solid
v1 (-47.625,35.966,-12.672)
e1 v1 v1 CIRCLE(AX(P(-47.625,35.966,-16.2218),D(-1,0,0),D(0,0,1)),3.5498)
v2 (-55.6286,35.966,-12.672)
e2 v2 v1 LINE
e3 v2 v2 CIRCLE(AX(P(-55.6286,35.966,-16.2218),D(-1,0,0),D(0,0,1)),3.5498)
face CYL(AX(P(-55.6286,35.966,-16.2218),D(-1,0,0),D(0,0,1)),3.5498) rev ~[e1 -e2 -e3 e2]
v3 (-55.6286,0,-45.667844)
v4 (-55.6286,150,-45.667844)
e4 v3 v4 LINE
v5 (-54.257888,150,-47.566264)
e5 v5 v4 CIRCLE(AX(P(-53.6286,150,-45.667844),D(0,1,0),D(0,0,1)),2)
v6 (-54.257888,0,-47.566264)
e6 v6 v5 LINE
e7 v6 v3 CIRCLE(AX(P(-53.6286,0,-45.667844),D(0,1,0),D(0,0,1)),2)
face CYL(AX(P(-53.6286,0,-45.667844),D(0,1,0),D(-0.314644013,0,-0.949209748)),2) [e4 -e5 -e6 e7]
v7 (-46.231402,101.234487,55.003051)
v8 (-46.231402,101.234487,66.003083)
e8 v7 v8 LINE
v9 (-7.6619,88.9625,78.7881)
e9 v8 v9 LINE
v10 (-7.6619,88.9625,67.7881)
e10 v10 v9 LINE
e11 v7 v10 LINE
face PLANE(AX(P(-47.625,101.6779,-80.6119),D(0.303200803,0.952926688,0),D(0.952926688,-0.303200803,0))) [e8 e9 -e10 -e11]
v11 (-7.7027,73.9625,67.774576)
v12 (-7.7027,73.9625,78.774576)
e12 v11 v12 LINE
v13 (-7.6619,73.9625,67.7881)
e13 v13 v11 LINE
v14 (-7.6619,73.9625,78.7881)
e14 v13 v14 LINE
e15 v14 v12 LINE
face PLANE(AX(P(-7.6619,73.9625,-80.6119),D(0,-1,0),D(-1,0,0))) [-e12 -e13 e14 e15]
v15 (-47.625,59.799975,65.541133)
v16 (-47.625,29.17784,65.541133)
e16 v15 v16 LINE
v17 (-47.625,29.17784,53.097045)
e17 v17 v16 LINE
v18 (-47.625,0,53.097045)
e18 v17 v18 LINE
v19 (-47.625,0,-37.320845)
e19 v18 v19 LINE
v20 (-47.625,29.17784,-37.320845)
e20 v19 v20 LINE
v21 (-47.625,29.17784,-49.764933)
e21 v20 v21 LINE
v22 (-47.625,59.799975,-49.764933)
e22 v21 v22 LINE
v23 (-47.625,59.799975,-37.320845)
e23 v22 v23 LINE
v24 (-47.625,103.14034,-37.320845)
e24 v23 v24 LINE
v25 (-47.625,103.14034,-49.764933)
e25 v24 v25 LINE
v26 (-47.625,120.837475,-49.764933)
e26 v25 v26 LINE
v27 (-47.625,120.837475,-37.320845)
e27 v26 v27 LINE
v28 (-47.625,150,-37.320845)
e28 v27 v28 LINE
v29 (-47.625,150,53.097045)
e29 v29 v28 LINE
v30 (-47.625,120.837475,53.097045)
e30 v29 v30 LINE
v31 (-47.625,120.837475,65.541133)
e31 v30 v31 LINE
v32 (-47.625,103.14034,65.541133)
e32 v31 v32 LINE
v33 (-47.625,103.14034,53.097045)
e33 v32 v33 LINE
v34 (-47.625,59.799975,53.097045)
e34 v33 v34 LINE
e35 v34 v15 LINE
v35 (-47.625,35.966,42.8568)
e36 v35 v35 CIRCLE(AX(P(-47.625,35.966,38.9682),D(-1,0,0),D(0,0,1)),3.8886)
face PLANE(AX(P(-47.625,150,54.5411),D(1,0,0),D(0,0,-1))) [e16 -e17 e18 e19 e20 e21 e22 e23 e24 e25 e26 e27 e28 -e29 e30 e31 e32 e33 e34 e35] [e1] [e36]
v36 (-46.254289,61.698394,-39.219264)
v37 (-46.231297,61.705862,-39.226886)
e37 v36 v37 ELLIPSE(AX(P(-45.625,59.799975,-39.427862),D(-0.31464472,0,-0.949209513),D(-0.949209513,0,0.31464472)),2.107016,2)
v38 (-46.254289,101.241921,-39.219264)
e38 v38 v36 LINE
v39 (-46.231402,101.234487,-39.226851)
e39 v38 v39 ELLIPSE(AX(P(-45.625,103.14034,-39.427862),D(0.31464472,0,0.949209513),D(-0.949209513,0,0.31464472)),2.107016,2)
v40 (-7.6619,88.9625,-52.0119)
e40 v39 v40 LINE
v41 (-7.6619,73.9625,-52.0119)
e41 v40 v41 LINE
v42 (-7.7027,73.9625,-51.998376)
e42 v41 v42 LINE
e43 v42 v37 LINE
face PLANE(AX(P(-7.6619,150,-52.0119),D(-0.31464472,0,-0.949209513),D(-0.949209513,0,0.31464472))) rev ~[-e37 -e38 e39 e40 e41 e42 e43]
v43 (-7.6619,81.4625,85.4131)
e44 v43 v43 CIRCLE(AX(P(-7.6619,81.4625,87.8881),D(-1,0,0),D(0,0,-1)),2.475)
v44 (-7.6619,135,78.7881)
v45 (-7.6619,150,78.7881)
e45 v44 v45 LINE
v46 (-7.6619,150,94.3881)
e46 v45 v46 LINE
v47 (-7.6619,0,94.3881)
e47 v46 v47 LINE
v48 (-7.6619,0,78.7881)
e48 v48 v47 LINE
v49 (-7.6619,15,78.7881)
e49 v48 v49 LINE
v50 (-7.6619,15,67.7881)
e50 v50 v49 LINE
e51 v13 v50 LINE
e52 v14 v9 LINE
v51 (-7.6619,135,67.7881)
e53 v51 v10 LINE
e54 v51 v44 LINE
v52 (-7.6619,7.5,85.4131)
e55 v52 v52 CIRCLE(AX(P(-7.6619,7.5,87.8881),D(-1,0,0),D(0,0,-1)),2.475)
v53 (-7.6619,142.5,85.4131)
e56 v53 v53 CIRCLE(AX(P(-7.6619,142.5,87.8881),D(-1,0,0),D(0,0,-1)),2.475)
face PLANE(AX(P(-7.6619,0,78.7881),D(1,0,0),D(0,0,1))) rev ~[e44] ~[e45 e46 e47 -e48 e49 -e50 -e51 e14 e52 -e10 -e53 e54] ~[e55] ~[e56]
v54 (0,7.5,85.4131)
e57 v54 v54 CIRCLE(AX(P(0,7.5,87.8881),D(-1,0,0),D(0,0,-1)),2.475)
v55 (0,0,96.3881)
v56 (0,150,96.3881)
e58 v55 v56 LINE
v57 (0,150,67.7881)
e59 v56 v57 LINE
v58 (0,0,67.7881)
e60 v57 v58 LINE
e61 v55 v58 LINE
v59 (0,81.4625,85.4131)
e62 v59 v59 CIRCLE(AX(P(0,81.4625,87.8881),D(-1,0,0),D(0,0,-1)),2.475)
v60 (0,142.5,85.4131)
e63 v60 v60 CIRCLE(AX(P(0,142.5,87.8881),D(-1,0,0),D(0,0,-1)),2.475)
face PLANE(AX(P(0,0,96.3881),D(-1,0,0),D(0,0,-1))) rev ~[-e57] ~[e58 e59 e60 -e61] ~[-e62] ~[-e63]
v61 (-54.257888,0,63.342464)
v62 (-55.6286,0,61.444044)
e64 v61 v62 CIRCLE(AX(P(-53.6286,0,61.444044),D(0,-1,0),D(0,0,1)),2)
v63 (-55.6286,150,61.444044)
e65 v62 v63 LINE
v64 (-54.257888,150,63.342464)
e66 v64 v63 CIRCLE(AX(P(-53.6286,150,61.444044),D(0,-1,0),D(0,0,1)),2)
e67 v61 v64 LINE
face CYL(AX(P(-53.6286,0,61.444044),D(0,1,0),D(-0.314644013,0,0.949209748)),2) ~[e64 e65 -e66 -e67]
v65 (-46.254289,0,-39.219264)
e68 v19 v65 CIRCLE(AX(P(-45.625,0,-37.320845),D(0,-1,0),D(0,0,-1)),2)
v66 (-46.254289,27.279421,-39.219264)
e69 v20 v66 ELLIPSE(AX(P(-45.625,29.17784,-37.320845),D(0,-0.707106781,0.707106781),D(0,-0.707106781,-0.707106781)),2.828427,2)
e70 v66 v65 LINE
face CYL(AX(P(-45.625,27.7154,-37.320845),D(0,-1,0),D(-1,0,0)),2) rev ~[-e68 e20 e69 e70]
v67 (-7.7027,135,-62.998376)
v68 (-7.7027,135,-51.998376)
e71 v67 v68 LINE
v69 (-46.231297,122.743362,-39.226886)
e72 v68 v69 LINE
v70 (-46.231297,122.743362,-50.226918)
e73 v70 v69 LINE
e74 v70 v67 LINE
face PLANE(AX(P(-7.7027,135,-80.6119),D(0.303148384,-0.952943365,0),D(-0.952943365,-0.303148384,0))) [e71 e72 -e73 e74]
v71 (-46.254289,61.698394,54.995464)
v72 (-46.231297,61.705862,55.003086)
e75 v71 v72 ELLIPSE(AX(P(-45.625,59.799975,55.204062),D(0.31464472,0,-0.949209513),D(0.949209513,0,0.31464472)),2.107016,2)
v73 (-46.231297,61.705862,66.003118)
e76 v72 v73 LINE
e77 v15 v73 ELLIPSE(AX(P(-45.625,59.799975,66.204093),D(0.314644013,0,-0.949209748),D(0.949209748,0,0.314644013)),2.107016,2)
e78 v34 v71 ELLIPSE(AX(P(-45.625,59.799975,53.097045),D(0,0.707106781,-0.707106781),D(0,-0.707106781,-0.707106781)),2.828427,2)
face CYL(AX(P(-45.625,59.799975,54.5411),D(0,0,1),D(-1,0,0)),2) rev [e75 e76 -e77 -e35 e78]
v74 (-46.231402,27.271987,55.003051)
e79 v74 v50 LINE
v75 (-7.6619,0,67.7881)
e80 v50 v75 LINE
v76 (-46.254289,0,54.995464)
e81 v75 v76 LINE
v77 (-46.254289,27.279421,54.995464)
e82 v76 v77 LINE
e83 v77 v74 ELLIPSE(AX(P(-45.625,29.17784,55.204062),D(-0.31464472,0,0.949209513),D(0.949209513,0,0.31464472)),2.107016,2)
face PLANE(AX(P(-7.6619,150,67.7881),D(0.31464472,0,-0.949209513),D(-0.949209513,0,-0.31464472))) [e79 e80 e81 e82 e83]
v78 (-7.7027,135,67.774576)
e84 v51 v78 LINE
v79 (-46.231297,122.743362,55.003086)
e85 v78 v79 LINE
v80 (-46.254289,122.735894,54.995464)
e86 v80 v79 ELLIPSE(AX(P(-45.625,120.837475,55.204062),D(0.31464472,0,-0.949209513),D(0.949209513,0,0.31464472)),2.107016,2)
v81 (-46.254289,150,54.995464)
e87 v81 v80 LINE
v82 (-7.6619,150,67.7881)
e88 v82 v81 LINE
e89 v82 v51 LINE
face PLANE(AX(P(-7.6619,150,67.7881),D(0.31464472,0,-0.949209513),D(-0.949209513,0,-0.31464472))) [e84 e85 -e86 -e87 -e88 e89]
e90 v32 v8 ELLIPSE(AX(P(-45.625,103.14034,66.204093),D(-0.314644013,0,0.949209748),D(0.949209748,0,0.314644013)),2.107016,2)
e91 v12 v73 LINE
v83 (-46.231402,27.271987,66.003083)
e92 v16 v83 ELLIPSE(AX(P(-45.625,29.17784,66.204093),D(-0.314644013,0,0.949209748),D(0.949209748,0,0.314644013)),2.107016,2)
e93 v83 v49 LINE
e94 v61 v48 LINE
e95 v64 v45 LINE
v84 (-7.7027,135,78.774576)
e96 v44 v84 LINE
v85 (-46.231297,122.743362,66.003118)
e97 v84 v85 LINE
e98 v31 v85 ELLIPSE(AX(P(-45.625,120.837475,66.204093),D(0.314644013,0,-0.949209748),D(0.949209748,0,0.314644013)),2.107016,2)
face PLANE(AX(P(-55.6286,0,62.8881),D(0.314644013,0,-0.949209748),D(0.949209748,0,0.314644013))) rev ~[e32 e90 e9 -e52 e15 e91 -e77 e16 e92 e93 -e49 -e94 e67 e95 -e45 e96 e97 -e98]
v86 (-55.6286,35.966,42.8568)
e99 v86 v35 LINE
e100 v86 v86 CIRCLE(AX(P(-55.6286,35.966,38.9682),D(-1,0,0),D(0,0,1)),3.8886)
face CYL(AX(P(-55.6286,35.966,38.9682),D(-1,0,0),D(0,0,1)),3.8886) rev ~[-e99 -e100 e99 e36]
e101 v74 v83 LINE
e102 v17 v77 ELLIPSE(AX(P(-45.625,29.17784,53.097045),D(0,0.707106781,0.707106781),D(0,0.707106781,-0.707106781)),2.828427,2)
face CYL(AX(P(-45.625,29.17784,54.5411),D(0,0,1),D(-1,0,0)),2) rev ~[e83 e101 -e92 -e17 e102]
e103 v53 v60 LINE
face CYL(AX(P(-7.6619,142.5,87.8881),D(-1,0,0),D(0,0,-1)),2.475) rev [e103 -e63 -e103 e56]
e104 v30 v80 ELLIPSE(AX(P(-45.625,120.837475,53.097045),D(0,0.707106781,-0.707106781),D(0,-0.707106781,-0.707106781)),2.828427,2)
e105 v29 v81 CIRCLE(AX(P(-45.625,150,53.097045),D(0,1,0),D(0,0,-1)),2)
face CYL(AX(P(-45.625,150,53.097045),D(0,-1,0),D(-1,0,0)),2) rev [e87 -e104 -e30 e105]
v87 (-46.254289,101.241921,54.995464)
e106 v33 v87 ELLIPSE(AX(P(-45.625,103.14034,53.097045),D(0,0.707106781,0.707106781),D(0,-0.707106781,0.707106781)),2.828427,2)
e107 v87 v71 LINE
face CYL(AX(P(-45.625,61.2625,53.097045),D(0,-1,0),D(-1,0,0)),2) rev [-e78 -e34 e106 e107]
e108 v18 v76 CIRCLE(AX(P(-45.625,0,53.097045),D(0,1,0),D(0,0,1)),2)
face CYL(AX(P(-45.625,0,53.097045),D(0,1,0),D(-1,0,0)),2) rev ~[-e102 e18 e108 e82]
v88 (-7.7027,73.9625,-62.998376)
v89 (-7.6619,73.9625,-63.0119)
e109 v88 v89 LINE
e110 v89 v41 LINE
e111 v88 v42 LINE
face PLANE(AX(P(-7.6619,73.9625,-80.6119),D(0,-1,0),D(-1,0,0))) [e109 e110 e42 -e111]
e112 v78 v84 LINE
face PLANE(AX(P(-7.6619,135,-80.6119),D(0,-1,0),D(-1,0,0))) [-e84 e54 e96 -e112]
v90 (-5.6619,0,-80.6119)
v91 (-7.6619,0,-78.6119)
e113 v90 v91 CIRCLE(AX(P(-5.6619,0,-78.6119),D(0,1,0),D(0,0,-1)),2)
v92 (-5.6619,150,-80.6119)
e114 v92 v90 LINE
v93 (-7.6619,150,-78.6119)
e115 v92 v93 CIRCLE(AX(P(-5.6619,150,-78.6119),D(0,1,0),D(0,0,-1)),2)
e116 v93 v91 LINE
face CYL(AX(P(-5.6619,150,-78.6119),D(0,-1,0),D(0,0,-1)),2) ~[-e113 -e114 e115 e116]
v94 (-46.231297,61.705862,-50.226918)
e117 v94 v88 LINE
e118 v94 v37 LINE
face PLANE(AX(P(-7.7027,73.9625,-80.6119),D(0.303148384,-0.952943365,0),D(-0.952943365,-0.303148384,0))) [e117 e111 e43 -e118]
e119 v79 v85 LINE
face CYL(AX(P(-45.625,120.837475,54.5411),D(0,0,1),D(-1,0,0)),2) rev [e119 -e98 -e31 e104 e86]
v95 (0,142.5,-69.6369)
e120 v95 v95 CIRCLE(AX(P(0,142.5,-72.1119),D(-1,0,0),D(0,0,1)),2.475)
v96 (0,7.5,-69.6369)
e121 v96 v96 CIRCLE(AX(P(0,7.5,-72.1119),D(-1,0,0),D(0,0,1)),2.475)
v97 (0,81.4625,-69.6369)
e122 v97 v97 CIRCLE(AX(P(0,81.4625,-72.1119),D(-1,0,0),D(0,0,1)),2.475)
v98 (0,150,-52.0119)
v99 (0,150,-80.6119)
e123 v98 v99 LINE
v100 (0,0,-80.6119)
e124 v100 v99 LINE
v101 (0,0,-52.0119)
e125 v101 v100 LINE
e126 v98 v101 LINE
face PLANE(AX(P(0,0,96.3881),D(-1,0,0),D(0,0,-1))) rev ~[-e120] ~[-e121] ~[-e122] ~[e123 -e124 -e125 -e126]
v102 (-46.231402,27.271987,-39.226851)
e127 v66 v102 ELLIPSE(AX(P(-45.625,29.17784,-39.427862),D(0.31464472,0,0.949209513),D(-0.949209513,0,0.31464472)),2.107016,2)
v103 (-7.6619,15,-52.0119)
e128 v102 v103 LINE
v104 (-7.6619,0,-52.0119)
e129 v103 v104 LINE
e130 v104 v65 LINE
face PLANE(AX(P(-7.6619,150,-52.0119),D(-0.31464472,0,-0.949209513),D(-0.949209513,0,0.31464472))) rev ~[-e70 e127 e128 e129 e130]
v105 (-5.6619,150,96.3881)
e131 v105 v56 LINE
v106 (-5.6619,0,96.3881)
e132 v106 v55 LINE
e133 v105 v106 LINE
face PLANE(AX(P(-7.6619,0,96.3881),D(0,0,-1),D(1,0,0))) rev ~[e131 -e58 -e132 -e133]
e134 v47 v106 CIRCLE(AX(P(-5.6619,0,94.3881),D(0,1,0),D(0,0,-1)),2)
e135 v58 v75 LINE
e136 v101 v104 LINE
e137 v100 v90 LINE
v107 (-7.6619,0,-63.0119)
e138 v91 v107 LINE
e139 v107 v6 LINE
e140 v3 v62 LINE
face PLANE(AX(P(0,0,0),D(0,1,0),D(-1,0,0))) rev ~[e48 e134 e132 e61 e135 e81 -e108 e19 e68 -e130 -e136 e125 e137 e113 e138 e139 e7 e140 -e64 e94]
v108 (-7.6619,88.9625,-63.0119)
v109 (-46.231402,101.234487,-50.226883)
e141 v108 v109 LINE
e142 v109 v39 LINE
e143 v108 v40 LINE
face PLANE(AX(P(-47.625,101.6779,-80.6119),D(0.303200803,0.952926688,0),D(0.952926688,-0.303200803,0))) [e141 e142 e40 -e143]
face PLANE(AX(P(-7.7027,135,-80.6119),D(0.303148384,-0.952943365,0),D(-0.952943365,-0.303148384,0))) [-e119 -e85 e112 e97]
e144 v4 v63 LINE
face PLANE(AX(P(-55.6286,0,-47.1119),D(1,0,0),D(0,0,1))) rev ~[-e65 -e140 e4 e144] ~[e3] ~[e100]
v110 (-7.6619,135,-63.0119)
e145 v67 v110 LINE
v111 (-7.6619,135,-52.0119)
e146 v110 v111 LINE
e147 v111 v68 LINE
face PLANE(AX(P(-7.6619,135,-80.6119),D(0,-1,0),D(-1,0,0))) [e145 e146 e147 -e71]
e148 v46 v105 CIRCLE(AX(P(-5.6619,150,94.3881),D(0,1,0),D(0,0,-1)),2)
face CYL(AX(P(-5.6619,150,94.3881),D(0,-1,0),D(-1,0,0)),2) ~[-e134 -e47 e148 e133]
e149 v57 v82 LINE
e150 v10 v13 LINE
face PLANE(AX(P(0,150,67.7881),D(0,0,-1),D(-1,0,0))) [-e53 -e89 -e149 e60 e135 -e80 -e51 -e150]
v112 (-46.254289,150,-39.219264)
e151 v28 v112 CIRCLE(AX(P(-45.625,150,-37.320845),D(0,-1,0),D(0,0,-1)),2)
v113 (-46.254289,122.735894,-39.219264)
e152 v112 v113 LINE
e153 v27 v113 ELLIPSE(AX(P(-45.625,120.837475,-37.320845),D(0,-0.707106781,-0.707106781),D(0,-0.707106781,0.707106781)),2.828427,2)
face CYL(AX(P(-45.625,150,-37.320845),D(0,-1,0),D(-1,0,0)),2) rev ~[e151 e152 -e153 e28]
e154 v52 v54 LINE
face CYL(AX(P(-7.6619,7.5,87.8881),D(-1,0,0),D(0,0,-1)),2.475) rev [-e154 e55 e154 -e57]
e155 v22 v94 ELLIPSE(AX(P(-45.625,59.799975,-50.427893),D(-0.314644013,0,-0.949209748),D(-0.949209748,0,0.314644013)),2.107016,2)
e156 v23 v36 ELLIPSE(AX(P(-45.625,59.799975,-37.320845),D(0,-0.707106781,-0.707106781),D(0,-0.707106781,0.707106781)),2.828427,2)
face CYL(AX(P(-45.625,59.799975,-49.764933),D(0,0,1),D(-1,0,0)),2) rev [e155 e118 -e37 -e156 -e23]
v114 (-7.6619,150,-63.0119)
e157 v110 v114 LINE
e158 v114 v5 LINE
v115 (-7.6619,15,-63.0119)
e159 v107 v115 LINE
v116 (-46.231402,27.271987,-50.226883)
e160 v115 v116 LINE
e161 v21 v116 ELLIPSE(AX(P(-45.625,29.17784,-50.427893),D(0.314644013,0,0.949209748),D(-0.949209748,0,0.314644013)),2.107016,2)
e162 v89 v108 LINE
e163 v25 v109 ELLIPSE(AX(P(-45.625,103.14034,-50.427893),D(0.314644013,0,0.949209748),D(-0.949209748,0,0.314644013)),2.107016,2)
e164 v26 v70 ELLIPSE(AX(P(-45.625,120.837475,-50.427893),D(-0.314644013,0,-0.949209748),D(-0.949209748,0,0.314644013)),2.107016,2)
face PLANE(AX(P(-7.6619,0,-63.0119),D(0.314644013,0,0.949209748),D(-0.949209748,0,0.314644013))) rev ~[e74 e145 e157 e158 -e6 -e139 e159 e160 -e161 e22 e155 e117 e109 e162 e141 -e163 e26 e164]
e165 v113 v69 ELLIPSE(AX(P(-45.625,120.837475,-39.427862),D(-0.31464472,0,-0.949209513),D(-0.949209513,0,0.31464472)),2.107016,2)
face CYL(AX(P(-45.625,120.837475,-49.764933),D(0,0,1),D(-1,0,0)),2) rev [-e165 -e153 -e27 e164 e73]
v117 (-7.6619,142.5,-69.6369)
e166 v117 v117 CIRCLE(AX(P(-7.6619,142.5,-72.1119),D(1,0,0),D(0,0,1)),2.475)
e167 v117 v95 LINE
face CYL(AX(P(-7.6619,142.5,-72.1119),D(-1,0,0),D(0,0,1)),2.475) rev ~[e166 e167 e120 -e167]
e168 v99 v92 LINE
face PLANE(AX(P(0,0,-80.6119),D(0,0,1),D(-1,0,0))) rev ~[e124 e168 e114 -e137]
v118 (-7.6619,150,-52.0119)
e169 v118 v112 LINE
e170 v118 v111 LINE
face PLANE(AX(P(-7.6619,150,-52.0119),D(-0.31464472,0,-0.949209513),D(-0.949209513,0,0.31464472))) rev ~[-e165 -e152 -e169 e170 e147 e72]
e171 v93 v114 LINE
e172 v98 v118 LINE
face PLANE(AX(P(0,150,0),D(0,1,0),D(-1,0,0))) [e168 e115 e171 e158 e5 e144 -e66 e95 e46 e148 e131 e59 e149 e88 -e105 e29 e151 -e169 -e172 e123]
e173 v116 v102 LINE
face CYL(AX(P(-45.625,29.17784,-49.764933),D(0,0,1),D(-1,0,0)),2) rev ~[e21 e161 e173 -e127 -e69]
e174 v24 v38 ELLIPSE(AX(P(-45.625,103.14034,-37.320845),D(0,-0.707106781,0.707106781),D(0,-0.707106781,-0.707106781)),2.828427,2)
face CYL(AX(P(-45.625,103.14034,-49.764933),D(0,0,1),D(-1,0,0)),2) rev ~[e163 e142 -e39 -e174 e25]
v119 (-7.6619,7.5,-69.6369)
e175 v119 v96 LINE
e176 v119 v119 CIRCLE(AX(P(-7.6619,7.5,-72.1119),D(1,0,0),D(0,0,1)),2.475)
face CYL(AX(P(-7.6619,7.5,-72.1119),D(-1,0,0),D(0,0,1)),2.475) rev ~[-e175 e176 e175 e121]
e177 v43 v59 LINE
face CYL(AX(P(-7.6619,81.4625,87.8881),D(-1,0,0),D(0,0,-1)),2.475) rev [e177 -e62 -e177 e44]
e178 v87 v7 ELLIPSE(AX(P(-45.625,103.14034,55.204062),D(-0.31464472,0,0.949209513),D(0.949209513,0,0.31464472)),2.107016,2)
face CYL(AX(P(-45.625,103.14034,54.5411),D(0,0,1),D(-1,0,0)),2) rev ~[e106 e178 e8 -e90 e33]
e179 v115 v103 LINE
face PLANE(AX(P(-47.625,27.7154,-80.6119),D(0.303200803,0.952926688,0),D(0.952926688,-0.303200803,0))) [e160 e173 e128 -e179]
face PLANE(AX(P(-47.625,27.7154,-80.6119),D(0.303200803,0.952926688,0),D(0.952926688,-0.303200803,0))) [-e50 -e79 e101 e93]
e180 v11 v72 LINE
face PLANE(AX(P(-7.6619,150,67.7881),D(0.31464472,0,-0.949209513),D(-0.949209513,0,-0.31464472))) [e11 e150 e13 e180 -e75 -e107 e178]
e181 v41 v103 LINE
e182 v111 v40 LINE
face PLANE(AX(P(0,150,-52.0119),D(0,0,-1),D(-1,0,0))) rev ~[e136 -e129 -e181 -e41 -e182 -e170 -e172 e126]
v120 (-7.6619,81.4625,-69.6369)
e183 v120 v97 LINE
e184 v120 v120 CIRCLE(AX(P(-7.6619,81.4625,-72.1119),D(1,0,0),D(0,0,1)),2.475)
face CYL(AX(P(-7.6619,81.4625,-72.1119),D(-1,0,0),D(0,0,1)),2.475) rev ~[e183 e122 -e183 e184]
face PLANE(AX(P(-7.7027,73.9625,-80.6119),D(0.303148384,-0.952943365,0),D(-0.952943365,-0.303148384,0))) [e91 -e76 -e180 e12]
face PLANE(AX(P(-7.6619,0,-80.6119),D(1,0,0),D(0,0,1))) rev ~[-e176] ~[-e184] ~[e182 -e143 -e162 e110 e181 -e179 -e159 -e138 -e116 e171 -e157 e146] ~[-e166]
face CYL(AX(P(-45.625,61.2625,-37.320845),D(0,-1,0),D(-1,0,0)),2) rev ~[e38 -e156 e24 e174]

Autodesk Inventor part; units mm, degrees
ref_plane "YZ Plane" through (0, 0, 0) normal (1, 0, 0) x (0, 1, 0)
ref_plane "XZ Plane" through (0, 0, 0) normal (0, 1, 0) x (-1, 0, 0)
ref_plane "XY Plane" through (0, 0, 0) normal (0, 0, 1) x (1, 0, 0)
sketch "Sketch1" plane through (0, 0, 0) normal (0, 1, 0) x (-1, 0, 0)
  line L0 (0, 96.3881) -> (0, -80.6119)
  line L1 (0, -80.6119) -> (7.6619, -80.6119)
  line L2 (7.6619, -80.6119) -> (7.6619, -63.0119)
  line L3 (7.6619, -63.0119) -> (55.6286, -47.1119)
  line L4 (55.6286, -47.1119) -> (55.6286, 62.8881)
  line L5 (55.6286, 62.8881) -> (7.6619, 78.7881)
  line L6 (7.6619, 78.7881) -> (7.6619, 96.3881)
  line L7 (7.6619, 96.3881) -> (0, 96.3881)
  point P0 (0, 0)
  dimension "d0" = 177
  dimension "d1" = 17.6
  dimension "d2" = 17.6
  dimension "d3" = 110
  dimension "d4" = 15.9
extrude "Extrusion1" add sketch "Sketch1" along normal blind 150
sketch "Sketch2" plane through (0, 150, 0) normal (0, 1, 0) x (1, 0, 0)
  line L0 (-7.6619, -78.7881) -> (-7.6619, -96.3881) projected
  line L1 (-7.6619, -78.7881) -> (0, -78.7881)
  line L2 (0, -96.3881) -> (0, 80.6119) projected
  line L3 (0, -78.7881) -> (0, -67.7881)
  line L4 (0, -67.7881) -> (-7.6619, -67.7881)
  line L5 (-7.6619, 80.6119) -> (-7.6619, 63.0119) projected
  line L6 (-7.6619, 63.0119) -> (0, 63.0119)
  line L7 (0, 63.0119) -> (0, 52.0119)
  line L8 (0, 52.0119) -> (-7.6619, 52.0119)
  line L9 (0, -67.7881) -> (0, 52.0119)
  line L10 (-7.6619, -67.7881) -> (-47.625, -54.5411)
  line L11 (-7.6619, 52.0119) -> (-47.625, 38.7649)
  line L12 (-55.6286, -62.8881) -> (-7.6619, -78.7881) projected
  line L13 (-7.6619, 63.0119) -> (-55.6286, 47.1119) projected
  line L14 (-47.625, -54.5411) -> (-47.625, 38.7649)
  point P0 (0, 0)
  dimension "d8" = 11
  dimension "d9" = 11
  dimension "d10" = 0
  dimension "d11" = 0
  dimension "d12" = 93.306
extrude "Extrusion2" cut sketch "Sketch2" against normal blind 150
sketch "Sketch3" plane through (0, 0, -80.6119) normal (0, 0, -1) x (-1, 0, 0)
  line L0 (0, 0) -> (0, 150) projected
  line L1 (0, 135) -> (7.7027, 135)
  line L2 (7.7027, 135) -> (47.625, 122.3)
  line L3 (47.625, 150) -> (47.625, 0) projected
  line L4 (47.625, 122.3) -> (47.625, 101.6779)
  line L5 (47.625, 101.6779) -> (7.6619, 88.9625)
  line L6 (7.6619, 150) -> (7.6619, 0) projected
  line L7 (7.6619, 88.9625) -> (0, 88.9625)
  line L8 (0, 135) -> (0, 88.9625)
  line L9 (0, 73.9625) -> (7.7027, 73.9625)
  line L10 (7.7027, 73.9625) -> (47.625, 61.2625)
  line L11 (47.625, 61.2625) -> (47.625, 27.7154)
  line L12 (47.625, 27.7154) -> (7.6619, 15)
  line L13 (7.6619, 15) -> (0, 15)
  line L14 (0, 73.9625) -> (0, 15)
  line L15 (0, 150) -> (7.6619, 150) projected
  line L16 (0, 0) -> (7.6619, 0) projected
  point P0 (7.6619, 15)
  point P1 (7.6619, 73.9625)
  point P2 (7.6619, 135)
  dimension "d15" = 72.35
  dimension "d16" = 72.353
  dimension "d18" = 15
  dimension "d19" = 15
  dimension "d20" = 46.0375
  dimension "d22" = 72.353
  dimension "d23" = 72.35
  dimension "d24" = 15
extrude "Extrusion3" cut sketch "Sketch3" against normal blind 1500 contours L6 L9 L10 L3 L12 | L6 L1 L2 L3 L5
fillet "Fillet1" radius 2 8 edges at (-47.625, 122.3, -44.2649) (-47.625, 101.6779, -44.2649) (-47.625, 61.2625, -44.2649) (-47.625, 27.7154, -44.2649) (-47.625, 61.2625, 60.0411) (-47.625, 122.3, 60.0411) (-47.625, 101.6779, 60.0411) (-47.625, 27.7154, 60.0411)
fillet "Fillet2" radius 2 12 edges at (-47.625, 121.5687, 54.5411) (-47.625, 136.15, 54.5411) (-47.625, 60.5312, 54.5411) (-47.625, 102.4092, 54.5411) (-47.625, 28.4467, 54.5411) (-47.625, 13.8577, 54.5411) (-47.625, 136.15, -38.7649) (-47.625, 121.5687, -38.7649) (-47.625, 60.5312, -38.7649) (-47.625, 102.4092, -38.7649) (-47.625, 13.8577, -38.7649) (-47.625, 28.4467, -38.7649)
fillet "Fillet3" radius 2 4 edges at (-7.6619, 75, 96.3881) (-7.6619, 75, -80.6119) (-55.6286, 75, -47.1119) (-55.6286, 75, 62.8881)
sketch "Sketch4" plane through (-7.6619, 15, -52.0119) normal (-1, 0, 0) x (0, 0, 1)
  line L0 (130.8, 135) -> (146.4, 135) projected
  line L1 (139.9, 135) -> (139.9, -14.5366)
  line L2 (-20.1, 135) -> (-20.1, -15)
  line L3 (-26.6, -15) -> (-26.6, 135) projected
  line L4 (-26.6, -15) -> (-11, -15) projected
  line L5 (148.4, -15) -> (148.4, 135) projected
  circle A0 centre (-20.1, 127.5) radius 2.475
  line L6 (-26.6, 135) -> (-11, 135) projected
  circle A1 centre (-20.1, 66.4625) radius 2.475
  circle A2 centre (-20.1, -7.5) radius 2.475
  line L7 (-10.9865, 58.9625) -> (0.0135, 58.9625) projected
  point P0 (52.0119, -15)
  dimension "d30" = 160
  dimension "d31" = 150
  dimension "d32" = 0
  dimension "d33" = 8.5
  dimension "d34" = 4.95
  dimension "d35" = 7.5
  dimension "d36" = 7.5
  dimension "d37" = 7.5
extrude "Extrusion4" cut sketch "Sketch4" against normal blind 1500 contours A0 L2 | L2 A0 | A1 L2 | L2 A1 | A2 L2 | L2 A2
ref_plane "Work Plane1" through (-221.551, 135, 7.8881) normal (0, 0, -1) x (0, -1, 0)
mirror "Mirror1" about plane through (-221.551, 135, 7.8881) normal (0, 0, -1) of "Extrusion4"
sketch "Sketch5" plane through (-55.6286, 0, -45.6678) normal (-1, 0, 0) x (0, 0, 1)
  line L0 (99.426, 7.686) -> (7.686, 7.686)
  line L1 (7.686, 7.686) -> (7.686, 65.906)
  line L2 (7.686, 65.906) -> (99.426, 65.906)
  line L3 (99.426, 65.906) -> (99.426, 7.686)
  line L4 (0, 0) -> (0, 150) projected
  line L5 (0, 0) -> (107.1119, 0) projected
  circle A0 centre (29.446, 35.966) radius 3.5498
  circle A1 centre (84.636, 35.966) radius 3.8886
  point P0 (45.6678, 0)
  dimension "d40" = 58.22
  dimension "d41" = 91.74
  dimension "d42" = 7.686
  dimension "d43" = 7.686
  dimension "d44" = 21.76
  dimension "d45" = 29.94
  dimension "d46" = 55.19
  dimension "d47" = 29.94
extrude "Extrusion5" cut sketch "Sketch5" against normal blind 21.76 contours A0 | A1
equation "\"d48\" = d44"
properties part number "PiSpotAttachment"
